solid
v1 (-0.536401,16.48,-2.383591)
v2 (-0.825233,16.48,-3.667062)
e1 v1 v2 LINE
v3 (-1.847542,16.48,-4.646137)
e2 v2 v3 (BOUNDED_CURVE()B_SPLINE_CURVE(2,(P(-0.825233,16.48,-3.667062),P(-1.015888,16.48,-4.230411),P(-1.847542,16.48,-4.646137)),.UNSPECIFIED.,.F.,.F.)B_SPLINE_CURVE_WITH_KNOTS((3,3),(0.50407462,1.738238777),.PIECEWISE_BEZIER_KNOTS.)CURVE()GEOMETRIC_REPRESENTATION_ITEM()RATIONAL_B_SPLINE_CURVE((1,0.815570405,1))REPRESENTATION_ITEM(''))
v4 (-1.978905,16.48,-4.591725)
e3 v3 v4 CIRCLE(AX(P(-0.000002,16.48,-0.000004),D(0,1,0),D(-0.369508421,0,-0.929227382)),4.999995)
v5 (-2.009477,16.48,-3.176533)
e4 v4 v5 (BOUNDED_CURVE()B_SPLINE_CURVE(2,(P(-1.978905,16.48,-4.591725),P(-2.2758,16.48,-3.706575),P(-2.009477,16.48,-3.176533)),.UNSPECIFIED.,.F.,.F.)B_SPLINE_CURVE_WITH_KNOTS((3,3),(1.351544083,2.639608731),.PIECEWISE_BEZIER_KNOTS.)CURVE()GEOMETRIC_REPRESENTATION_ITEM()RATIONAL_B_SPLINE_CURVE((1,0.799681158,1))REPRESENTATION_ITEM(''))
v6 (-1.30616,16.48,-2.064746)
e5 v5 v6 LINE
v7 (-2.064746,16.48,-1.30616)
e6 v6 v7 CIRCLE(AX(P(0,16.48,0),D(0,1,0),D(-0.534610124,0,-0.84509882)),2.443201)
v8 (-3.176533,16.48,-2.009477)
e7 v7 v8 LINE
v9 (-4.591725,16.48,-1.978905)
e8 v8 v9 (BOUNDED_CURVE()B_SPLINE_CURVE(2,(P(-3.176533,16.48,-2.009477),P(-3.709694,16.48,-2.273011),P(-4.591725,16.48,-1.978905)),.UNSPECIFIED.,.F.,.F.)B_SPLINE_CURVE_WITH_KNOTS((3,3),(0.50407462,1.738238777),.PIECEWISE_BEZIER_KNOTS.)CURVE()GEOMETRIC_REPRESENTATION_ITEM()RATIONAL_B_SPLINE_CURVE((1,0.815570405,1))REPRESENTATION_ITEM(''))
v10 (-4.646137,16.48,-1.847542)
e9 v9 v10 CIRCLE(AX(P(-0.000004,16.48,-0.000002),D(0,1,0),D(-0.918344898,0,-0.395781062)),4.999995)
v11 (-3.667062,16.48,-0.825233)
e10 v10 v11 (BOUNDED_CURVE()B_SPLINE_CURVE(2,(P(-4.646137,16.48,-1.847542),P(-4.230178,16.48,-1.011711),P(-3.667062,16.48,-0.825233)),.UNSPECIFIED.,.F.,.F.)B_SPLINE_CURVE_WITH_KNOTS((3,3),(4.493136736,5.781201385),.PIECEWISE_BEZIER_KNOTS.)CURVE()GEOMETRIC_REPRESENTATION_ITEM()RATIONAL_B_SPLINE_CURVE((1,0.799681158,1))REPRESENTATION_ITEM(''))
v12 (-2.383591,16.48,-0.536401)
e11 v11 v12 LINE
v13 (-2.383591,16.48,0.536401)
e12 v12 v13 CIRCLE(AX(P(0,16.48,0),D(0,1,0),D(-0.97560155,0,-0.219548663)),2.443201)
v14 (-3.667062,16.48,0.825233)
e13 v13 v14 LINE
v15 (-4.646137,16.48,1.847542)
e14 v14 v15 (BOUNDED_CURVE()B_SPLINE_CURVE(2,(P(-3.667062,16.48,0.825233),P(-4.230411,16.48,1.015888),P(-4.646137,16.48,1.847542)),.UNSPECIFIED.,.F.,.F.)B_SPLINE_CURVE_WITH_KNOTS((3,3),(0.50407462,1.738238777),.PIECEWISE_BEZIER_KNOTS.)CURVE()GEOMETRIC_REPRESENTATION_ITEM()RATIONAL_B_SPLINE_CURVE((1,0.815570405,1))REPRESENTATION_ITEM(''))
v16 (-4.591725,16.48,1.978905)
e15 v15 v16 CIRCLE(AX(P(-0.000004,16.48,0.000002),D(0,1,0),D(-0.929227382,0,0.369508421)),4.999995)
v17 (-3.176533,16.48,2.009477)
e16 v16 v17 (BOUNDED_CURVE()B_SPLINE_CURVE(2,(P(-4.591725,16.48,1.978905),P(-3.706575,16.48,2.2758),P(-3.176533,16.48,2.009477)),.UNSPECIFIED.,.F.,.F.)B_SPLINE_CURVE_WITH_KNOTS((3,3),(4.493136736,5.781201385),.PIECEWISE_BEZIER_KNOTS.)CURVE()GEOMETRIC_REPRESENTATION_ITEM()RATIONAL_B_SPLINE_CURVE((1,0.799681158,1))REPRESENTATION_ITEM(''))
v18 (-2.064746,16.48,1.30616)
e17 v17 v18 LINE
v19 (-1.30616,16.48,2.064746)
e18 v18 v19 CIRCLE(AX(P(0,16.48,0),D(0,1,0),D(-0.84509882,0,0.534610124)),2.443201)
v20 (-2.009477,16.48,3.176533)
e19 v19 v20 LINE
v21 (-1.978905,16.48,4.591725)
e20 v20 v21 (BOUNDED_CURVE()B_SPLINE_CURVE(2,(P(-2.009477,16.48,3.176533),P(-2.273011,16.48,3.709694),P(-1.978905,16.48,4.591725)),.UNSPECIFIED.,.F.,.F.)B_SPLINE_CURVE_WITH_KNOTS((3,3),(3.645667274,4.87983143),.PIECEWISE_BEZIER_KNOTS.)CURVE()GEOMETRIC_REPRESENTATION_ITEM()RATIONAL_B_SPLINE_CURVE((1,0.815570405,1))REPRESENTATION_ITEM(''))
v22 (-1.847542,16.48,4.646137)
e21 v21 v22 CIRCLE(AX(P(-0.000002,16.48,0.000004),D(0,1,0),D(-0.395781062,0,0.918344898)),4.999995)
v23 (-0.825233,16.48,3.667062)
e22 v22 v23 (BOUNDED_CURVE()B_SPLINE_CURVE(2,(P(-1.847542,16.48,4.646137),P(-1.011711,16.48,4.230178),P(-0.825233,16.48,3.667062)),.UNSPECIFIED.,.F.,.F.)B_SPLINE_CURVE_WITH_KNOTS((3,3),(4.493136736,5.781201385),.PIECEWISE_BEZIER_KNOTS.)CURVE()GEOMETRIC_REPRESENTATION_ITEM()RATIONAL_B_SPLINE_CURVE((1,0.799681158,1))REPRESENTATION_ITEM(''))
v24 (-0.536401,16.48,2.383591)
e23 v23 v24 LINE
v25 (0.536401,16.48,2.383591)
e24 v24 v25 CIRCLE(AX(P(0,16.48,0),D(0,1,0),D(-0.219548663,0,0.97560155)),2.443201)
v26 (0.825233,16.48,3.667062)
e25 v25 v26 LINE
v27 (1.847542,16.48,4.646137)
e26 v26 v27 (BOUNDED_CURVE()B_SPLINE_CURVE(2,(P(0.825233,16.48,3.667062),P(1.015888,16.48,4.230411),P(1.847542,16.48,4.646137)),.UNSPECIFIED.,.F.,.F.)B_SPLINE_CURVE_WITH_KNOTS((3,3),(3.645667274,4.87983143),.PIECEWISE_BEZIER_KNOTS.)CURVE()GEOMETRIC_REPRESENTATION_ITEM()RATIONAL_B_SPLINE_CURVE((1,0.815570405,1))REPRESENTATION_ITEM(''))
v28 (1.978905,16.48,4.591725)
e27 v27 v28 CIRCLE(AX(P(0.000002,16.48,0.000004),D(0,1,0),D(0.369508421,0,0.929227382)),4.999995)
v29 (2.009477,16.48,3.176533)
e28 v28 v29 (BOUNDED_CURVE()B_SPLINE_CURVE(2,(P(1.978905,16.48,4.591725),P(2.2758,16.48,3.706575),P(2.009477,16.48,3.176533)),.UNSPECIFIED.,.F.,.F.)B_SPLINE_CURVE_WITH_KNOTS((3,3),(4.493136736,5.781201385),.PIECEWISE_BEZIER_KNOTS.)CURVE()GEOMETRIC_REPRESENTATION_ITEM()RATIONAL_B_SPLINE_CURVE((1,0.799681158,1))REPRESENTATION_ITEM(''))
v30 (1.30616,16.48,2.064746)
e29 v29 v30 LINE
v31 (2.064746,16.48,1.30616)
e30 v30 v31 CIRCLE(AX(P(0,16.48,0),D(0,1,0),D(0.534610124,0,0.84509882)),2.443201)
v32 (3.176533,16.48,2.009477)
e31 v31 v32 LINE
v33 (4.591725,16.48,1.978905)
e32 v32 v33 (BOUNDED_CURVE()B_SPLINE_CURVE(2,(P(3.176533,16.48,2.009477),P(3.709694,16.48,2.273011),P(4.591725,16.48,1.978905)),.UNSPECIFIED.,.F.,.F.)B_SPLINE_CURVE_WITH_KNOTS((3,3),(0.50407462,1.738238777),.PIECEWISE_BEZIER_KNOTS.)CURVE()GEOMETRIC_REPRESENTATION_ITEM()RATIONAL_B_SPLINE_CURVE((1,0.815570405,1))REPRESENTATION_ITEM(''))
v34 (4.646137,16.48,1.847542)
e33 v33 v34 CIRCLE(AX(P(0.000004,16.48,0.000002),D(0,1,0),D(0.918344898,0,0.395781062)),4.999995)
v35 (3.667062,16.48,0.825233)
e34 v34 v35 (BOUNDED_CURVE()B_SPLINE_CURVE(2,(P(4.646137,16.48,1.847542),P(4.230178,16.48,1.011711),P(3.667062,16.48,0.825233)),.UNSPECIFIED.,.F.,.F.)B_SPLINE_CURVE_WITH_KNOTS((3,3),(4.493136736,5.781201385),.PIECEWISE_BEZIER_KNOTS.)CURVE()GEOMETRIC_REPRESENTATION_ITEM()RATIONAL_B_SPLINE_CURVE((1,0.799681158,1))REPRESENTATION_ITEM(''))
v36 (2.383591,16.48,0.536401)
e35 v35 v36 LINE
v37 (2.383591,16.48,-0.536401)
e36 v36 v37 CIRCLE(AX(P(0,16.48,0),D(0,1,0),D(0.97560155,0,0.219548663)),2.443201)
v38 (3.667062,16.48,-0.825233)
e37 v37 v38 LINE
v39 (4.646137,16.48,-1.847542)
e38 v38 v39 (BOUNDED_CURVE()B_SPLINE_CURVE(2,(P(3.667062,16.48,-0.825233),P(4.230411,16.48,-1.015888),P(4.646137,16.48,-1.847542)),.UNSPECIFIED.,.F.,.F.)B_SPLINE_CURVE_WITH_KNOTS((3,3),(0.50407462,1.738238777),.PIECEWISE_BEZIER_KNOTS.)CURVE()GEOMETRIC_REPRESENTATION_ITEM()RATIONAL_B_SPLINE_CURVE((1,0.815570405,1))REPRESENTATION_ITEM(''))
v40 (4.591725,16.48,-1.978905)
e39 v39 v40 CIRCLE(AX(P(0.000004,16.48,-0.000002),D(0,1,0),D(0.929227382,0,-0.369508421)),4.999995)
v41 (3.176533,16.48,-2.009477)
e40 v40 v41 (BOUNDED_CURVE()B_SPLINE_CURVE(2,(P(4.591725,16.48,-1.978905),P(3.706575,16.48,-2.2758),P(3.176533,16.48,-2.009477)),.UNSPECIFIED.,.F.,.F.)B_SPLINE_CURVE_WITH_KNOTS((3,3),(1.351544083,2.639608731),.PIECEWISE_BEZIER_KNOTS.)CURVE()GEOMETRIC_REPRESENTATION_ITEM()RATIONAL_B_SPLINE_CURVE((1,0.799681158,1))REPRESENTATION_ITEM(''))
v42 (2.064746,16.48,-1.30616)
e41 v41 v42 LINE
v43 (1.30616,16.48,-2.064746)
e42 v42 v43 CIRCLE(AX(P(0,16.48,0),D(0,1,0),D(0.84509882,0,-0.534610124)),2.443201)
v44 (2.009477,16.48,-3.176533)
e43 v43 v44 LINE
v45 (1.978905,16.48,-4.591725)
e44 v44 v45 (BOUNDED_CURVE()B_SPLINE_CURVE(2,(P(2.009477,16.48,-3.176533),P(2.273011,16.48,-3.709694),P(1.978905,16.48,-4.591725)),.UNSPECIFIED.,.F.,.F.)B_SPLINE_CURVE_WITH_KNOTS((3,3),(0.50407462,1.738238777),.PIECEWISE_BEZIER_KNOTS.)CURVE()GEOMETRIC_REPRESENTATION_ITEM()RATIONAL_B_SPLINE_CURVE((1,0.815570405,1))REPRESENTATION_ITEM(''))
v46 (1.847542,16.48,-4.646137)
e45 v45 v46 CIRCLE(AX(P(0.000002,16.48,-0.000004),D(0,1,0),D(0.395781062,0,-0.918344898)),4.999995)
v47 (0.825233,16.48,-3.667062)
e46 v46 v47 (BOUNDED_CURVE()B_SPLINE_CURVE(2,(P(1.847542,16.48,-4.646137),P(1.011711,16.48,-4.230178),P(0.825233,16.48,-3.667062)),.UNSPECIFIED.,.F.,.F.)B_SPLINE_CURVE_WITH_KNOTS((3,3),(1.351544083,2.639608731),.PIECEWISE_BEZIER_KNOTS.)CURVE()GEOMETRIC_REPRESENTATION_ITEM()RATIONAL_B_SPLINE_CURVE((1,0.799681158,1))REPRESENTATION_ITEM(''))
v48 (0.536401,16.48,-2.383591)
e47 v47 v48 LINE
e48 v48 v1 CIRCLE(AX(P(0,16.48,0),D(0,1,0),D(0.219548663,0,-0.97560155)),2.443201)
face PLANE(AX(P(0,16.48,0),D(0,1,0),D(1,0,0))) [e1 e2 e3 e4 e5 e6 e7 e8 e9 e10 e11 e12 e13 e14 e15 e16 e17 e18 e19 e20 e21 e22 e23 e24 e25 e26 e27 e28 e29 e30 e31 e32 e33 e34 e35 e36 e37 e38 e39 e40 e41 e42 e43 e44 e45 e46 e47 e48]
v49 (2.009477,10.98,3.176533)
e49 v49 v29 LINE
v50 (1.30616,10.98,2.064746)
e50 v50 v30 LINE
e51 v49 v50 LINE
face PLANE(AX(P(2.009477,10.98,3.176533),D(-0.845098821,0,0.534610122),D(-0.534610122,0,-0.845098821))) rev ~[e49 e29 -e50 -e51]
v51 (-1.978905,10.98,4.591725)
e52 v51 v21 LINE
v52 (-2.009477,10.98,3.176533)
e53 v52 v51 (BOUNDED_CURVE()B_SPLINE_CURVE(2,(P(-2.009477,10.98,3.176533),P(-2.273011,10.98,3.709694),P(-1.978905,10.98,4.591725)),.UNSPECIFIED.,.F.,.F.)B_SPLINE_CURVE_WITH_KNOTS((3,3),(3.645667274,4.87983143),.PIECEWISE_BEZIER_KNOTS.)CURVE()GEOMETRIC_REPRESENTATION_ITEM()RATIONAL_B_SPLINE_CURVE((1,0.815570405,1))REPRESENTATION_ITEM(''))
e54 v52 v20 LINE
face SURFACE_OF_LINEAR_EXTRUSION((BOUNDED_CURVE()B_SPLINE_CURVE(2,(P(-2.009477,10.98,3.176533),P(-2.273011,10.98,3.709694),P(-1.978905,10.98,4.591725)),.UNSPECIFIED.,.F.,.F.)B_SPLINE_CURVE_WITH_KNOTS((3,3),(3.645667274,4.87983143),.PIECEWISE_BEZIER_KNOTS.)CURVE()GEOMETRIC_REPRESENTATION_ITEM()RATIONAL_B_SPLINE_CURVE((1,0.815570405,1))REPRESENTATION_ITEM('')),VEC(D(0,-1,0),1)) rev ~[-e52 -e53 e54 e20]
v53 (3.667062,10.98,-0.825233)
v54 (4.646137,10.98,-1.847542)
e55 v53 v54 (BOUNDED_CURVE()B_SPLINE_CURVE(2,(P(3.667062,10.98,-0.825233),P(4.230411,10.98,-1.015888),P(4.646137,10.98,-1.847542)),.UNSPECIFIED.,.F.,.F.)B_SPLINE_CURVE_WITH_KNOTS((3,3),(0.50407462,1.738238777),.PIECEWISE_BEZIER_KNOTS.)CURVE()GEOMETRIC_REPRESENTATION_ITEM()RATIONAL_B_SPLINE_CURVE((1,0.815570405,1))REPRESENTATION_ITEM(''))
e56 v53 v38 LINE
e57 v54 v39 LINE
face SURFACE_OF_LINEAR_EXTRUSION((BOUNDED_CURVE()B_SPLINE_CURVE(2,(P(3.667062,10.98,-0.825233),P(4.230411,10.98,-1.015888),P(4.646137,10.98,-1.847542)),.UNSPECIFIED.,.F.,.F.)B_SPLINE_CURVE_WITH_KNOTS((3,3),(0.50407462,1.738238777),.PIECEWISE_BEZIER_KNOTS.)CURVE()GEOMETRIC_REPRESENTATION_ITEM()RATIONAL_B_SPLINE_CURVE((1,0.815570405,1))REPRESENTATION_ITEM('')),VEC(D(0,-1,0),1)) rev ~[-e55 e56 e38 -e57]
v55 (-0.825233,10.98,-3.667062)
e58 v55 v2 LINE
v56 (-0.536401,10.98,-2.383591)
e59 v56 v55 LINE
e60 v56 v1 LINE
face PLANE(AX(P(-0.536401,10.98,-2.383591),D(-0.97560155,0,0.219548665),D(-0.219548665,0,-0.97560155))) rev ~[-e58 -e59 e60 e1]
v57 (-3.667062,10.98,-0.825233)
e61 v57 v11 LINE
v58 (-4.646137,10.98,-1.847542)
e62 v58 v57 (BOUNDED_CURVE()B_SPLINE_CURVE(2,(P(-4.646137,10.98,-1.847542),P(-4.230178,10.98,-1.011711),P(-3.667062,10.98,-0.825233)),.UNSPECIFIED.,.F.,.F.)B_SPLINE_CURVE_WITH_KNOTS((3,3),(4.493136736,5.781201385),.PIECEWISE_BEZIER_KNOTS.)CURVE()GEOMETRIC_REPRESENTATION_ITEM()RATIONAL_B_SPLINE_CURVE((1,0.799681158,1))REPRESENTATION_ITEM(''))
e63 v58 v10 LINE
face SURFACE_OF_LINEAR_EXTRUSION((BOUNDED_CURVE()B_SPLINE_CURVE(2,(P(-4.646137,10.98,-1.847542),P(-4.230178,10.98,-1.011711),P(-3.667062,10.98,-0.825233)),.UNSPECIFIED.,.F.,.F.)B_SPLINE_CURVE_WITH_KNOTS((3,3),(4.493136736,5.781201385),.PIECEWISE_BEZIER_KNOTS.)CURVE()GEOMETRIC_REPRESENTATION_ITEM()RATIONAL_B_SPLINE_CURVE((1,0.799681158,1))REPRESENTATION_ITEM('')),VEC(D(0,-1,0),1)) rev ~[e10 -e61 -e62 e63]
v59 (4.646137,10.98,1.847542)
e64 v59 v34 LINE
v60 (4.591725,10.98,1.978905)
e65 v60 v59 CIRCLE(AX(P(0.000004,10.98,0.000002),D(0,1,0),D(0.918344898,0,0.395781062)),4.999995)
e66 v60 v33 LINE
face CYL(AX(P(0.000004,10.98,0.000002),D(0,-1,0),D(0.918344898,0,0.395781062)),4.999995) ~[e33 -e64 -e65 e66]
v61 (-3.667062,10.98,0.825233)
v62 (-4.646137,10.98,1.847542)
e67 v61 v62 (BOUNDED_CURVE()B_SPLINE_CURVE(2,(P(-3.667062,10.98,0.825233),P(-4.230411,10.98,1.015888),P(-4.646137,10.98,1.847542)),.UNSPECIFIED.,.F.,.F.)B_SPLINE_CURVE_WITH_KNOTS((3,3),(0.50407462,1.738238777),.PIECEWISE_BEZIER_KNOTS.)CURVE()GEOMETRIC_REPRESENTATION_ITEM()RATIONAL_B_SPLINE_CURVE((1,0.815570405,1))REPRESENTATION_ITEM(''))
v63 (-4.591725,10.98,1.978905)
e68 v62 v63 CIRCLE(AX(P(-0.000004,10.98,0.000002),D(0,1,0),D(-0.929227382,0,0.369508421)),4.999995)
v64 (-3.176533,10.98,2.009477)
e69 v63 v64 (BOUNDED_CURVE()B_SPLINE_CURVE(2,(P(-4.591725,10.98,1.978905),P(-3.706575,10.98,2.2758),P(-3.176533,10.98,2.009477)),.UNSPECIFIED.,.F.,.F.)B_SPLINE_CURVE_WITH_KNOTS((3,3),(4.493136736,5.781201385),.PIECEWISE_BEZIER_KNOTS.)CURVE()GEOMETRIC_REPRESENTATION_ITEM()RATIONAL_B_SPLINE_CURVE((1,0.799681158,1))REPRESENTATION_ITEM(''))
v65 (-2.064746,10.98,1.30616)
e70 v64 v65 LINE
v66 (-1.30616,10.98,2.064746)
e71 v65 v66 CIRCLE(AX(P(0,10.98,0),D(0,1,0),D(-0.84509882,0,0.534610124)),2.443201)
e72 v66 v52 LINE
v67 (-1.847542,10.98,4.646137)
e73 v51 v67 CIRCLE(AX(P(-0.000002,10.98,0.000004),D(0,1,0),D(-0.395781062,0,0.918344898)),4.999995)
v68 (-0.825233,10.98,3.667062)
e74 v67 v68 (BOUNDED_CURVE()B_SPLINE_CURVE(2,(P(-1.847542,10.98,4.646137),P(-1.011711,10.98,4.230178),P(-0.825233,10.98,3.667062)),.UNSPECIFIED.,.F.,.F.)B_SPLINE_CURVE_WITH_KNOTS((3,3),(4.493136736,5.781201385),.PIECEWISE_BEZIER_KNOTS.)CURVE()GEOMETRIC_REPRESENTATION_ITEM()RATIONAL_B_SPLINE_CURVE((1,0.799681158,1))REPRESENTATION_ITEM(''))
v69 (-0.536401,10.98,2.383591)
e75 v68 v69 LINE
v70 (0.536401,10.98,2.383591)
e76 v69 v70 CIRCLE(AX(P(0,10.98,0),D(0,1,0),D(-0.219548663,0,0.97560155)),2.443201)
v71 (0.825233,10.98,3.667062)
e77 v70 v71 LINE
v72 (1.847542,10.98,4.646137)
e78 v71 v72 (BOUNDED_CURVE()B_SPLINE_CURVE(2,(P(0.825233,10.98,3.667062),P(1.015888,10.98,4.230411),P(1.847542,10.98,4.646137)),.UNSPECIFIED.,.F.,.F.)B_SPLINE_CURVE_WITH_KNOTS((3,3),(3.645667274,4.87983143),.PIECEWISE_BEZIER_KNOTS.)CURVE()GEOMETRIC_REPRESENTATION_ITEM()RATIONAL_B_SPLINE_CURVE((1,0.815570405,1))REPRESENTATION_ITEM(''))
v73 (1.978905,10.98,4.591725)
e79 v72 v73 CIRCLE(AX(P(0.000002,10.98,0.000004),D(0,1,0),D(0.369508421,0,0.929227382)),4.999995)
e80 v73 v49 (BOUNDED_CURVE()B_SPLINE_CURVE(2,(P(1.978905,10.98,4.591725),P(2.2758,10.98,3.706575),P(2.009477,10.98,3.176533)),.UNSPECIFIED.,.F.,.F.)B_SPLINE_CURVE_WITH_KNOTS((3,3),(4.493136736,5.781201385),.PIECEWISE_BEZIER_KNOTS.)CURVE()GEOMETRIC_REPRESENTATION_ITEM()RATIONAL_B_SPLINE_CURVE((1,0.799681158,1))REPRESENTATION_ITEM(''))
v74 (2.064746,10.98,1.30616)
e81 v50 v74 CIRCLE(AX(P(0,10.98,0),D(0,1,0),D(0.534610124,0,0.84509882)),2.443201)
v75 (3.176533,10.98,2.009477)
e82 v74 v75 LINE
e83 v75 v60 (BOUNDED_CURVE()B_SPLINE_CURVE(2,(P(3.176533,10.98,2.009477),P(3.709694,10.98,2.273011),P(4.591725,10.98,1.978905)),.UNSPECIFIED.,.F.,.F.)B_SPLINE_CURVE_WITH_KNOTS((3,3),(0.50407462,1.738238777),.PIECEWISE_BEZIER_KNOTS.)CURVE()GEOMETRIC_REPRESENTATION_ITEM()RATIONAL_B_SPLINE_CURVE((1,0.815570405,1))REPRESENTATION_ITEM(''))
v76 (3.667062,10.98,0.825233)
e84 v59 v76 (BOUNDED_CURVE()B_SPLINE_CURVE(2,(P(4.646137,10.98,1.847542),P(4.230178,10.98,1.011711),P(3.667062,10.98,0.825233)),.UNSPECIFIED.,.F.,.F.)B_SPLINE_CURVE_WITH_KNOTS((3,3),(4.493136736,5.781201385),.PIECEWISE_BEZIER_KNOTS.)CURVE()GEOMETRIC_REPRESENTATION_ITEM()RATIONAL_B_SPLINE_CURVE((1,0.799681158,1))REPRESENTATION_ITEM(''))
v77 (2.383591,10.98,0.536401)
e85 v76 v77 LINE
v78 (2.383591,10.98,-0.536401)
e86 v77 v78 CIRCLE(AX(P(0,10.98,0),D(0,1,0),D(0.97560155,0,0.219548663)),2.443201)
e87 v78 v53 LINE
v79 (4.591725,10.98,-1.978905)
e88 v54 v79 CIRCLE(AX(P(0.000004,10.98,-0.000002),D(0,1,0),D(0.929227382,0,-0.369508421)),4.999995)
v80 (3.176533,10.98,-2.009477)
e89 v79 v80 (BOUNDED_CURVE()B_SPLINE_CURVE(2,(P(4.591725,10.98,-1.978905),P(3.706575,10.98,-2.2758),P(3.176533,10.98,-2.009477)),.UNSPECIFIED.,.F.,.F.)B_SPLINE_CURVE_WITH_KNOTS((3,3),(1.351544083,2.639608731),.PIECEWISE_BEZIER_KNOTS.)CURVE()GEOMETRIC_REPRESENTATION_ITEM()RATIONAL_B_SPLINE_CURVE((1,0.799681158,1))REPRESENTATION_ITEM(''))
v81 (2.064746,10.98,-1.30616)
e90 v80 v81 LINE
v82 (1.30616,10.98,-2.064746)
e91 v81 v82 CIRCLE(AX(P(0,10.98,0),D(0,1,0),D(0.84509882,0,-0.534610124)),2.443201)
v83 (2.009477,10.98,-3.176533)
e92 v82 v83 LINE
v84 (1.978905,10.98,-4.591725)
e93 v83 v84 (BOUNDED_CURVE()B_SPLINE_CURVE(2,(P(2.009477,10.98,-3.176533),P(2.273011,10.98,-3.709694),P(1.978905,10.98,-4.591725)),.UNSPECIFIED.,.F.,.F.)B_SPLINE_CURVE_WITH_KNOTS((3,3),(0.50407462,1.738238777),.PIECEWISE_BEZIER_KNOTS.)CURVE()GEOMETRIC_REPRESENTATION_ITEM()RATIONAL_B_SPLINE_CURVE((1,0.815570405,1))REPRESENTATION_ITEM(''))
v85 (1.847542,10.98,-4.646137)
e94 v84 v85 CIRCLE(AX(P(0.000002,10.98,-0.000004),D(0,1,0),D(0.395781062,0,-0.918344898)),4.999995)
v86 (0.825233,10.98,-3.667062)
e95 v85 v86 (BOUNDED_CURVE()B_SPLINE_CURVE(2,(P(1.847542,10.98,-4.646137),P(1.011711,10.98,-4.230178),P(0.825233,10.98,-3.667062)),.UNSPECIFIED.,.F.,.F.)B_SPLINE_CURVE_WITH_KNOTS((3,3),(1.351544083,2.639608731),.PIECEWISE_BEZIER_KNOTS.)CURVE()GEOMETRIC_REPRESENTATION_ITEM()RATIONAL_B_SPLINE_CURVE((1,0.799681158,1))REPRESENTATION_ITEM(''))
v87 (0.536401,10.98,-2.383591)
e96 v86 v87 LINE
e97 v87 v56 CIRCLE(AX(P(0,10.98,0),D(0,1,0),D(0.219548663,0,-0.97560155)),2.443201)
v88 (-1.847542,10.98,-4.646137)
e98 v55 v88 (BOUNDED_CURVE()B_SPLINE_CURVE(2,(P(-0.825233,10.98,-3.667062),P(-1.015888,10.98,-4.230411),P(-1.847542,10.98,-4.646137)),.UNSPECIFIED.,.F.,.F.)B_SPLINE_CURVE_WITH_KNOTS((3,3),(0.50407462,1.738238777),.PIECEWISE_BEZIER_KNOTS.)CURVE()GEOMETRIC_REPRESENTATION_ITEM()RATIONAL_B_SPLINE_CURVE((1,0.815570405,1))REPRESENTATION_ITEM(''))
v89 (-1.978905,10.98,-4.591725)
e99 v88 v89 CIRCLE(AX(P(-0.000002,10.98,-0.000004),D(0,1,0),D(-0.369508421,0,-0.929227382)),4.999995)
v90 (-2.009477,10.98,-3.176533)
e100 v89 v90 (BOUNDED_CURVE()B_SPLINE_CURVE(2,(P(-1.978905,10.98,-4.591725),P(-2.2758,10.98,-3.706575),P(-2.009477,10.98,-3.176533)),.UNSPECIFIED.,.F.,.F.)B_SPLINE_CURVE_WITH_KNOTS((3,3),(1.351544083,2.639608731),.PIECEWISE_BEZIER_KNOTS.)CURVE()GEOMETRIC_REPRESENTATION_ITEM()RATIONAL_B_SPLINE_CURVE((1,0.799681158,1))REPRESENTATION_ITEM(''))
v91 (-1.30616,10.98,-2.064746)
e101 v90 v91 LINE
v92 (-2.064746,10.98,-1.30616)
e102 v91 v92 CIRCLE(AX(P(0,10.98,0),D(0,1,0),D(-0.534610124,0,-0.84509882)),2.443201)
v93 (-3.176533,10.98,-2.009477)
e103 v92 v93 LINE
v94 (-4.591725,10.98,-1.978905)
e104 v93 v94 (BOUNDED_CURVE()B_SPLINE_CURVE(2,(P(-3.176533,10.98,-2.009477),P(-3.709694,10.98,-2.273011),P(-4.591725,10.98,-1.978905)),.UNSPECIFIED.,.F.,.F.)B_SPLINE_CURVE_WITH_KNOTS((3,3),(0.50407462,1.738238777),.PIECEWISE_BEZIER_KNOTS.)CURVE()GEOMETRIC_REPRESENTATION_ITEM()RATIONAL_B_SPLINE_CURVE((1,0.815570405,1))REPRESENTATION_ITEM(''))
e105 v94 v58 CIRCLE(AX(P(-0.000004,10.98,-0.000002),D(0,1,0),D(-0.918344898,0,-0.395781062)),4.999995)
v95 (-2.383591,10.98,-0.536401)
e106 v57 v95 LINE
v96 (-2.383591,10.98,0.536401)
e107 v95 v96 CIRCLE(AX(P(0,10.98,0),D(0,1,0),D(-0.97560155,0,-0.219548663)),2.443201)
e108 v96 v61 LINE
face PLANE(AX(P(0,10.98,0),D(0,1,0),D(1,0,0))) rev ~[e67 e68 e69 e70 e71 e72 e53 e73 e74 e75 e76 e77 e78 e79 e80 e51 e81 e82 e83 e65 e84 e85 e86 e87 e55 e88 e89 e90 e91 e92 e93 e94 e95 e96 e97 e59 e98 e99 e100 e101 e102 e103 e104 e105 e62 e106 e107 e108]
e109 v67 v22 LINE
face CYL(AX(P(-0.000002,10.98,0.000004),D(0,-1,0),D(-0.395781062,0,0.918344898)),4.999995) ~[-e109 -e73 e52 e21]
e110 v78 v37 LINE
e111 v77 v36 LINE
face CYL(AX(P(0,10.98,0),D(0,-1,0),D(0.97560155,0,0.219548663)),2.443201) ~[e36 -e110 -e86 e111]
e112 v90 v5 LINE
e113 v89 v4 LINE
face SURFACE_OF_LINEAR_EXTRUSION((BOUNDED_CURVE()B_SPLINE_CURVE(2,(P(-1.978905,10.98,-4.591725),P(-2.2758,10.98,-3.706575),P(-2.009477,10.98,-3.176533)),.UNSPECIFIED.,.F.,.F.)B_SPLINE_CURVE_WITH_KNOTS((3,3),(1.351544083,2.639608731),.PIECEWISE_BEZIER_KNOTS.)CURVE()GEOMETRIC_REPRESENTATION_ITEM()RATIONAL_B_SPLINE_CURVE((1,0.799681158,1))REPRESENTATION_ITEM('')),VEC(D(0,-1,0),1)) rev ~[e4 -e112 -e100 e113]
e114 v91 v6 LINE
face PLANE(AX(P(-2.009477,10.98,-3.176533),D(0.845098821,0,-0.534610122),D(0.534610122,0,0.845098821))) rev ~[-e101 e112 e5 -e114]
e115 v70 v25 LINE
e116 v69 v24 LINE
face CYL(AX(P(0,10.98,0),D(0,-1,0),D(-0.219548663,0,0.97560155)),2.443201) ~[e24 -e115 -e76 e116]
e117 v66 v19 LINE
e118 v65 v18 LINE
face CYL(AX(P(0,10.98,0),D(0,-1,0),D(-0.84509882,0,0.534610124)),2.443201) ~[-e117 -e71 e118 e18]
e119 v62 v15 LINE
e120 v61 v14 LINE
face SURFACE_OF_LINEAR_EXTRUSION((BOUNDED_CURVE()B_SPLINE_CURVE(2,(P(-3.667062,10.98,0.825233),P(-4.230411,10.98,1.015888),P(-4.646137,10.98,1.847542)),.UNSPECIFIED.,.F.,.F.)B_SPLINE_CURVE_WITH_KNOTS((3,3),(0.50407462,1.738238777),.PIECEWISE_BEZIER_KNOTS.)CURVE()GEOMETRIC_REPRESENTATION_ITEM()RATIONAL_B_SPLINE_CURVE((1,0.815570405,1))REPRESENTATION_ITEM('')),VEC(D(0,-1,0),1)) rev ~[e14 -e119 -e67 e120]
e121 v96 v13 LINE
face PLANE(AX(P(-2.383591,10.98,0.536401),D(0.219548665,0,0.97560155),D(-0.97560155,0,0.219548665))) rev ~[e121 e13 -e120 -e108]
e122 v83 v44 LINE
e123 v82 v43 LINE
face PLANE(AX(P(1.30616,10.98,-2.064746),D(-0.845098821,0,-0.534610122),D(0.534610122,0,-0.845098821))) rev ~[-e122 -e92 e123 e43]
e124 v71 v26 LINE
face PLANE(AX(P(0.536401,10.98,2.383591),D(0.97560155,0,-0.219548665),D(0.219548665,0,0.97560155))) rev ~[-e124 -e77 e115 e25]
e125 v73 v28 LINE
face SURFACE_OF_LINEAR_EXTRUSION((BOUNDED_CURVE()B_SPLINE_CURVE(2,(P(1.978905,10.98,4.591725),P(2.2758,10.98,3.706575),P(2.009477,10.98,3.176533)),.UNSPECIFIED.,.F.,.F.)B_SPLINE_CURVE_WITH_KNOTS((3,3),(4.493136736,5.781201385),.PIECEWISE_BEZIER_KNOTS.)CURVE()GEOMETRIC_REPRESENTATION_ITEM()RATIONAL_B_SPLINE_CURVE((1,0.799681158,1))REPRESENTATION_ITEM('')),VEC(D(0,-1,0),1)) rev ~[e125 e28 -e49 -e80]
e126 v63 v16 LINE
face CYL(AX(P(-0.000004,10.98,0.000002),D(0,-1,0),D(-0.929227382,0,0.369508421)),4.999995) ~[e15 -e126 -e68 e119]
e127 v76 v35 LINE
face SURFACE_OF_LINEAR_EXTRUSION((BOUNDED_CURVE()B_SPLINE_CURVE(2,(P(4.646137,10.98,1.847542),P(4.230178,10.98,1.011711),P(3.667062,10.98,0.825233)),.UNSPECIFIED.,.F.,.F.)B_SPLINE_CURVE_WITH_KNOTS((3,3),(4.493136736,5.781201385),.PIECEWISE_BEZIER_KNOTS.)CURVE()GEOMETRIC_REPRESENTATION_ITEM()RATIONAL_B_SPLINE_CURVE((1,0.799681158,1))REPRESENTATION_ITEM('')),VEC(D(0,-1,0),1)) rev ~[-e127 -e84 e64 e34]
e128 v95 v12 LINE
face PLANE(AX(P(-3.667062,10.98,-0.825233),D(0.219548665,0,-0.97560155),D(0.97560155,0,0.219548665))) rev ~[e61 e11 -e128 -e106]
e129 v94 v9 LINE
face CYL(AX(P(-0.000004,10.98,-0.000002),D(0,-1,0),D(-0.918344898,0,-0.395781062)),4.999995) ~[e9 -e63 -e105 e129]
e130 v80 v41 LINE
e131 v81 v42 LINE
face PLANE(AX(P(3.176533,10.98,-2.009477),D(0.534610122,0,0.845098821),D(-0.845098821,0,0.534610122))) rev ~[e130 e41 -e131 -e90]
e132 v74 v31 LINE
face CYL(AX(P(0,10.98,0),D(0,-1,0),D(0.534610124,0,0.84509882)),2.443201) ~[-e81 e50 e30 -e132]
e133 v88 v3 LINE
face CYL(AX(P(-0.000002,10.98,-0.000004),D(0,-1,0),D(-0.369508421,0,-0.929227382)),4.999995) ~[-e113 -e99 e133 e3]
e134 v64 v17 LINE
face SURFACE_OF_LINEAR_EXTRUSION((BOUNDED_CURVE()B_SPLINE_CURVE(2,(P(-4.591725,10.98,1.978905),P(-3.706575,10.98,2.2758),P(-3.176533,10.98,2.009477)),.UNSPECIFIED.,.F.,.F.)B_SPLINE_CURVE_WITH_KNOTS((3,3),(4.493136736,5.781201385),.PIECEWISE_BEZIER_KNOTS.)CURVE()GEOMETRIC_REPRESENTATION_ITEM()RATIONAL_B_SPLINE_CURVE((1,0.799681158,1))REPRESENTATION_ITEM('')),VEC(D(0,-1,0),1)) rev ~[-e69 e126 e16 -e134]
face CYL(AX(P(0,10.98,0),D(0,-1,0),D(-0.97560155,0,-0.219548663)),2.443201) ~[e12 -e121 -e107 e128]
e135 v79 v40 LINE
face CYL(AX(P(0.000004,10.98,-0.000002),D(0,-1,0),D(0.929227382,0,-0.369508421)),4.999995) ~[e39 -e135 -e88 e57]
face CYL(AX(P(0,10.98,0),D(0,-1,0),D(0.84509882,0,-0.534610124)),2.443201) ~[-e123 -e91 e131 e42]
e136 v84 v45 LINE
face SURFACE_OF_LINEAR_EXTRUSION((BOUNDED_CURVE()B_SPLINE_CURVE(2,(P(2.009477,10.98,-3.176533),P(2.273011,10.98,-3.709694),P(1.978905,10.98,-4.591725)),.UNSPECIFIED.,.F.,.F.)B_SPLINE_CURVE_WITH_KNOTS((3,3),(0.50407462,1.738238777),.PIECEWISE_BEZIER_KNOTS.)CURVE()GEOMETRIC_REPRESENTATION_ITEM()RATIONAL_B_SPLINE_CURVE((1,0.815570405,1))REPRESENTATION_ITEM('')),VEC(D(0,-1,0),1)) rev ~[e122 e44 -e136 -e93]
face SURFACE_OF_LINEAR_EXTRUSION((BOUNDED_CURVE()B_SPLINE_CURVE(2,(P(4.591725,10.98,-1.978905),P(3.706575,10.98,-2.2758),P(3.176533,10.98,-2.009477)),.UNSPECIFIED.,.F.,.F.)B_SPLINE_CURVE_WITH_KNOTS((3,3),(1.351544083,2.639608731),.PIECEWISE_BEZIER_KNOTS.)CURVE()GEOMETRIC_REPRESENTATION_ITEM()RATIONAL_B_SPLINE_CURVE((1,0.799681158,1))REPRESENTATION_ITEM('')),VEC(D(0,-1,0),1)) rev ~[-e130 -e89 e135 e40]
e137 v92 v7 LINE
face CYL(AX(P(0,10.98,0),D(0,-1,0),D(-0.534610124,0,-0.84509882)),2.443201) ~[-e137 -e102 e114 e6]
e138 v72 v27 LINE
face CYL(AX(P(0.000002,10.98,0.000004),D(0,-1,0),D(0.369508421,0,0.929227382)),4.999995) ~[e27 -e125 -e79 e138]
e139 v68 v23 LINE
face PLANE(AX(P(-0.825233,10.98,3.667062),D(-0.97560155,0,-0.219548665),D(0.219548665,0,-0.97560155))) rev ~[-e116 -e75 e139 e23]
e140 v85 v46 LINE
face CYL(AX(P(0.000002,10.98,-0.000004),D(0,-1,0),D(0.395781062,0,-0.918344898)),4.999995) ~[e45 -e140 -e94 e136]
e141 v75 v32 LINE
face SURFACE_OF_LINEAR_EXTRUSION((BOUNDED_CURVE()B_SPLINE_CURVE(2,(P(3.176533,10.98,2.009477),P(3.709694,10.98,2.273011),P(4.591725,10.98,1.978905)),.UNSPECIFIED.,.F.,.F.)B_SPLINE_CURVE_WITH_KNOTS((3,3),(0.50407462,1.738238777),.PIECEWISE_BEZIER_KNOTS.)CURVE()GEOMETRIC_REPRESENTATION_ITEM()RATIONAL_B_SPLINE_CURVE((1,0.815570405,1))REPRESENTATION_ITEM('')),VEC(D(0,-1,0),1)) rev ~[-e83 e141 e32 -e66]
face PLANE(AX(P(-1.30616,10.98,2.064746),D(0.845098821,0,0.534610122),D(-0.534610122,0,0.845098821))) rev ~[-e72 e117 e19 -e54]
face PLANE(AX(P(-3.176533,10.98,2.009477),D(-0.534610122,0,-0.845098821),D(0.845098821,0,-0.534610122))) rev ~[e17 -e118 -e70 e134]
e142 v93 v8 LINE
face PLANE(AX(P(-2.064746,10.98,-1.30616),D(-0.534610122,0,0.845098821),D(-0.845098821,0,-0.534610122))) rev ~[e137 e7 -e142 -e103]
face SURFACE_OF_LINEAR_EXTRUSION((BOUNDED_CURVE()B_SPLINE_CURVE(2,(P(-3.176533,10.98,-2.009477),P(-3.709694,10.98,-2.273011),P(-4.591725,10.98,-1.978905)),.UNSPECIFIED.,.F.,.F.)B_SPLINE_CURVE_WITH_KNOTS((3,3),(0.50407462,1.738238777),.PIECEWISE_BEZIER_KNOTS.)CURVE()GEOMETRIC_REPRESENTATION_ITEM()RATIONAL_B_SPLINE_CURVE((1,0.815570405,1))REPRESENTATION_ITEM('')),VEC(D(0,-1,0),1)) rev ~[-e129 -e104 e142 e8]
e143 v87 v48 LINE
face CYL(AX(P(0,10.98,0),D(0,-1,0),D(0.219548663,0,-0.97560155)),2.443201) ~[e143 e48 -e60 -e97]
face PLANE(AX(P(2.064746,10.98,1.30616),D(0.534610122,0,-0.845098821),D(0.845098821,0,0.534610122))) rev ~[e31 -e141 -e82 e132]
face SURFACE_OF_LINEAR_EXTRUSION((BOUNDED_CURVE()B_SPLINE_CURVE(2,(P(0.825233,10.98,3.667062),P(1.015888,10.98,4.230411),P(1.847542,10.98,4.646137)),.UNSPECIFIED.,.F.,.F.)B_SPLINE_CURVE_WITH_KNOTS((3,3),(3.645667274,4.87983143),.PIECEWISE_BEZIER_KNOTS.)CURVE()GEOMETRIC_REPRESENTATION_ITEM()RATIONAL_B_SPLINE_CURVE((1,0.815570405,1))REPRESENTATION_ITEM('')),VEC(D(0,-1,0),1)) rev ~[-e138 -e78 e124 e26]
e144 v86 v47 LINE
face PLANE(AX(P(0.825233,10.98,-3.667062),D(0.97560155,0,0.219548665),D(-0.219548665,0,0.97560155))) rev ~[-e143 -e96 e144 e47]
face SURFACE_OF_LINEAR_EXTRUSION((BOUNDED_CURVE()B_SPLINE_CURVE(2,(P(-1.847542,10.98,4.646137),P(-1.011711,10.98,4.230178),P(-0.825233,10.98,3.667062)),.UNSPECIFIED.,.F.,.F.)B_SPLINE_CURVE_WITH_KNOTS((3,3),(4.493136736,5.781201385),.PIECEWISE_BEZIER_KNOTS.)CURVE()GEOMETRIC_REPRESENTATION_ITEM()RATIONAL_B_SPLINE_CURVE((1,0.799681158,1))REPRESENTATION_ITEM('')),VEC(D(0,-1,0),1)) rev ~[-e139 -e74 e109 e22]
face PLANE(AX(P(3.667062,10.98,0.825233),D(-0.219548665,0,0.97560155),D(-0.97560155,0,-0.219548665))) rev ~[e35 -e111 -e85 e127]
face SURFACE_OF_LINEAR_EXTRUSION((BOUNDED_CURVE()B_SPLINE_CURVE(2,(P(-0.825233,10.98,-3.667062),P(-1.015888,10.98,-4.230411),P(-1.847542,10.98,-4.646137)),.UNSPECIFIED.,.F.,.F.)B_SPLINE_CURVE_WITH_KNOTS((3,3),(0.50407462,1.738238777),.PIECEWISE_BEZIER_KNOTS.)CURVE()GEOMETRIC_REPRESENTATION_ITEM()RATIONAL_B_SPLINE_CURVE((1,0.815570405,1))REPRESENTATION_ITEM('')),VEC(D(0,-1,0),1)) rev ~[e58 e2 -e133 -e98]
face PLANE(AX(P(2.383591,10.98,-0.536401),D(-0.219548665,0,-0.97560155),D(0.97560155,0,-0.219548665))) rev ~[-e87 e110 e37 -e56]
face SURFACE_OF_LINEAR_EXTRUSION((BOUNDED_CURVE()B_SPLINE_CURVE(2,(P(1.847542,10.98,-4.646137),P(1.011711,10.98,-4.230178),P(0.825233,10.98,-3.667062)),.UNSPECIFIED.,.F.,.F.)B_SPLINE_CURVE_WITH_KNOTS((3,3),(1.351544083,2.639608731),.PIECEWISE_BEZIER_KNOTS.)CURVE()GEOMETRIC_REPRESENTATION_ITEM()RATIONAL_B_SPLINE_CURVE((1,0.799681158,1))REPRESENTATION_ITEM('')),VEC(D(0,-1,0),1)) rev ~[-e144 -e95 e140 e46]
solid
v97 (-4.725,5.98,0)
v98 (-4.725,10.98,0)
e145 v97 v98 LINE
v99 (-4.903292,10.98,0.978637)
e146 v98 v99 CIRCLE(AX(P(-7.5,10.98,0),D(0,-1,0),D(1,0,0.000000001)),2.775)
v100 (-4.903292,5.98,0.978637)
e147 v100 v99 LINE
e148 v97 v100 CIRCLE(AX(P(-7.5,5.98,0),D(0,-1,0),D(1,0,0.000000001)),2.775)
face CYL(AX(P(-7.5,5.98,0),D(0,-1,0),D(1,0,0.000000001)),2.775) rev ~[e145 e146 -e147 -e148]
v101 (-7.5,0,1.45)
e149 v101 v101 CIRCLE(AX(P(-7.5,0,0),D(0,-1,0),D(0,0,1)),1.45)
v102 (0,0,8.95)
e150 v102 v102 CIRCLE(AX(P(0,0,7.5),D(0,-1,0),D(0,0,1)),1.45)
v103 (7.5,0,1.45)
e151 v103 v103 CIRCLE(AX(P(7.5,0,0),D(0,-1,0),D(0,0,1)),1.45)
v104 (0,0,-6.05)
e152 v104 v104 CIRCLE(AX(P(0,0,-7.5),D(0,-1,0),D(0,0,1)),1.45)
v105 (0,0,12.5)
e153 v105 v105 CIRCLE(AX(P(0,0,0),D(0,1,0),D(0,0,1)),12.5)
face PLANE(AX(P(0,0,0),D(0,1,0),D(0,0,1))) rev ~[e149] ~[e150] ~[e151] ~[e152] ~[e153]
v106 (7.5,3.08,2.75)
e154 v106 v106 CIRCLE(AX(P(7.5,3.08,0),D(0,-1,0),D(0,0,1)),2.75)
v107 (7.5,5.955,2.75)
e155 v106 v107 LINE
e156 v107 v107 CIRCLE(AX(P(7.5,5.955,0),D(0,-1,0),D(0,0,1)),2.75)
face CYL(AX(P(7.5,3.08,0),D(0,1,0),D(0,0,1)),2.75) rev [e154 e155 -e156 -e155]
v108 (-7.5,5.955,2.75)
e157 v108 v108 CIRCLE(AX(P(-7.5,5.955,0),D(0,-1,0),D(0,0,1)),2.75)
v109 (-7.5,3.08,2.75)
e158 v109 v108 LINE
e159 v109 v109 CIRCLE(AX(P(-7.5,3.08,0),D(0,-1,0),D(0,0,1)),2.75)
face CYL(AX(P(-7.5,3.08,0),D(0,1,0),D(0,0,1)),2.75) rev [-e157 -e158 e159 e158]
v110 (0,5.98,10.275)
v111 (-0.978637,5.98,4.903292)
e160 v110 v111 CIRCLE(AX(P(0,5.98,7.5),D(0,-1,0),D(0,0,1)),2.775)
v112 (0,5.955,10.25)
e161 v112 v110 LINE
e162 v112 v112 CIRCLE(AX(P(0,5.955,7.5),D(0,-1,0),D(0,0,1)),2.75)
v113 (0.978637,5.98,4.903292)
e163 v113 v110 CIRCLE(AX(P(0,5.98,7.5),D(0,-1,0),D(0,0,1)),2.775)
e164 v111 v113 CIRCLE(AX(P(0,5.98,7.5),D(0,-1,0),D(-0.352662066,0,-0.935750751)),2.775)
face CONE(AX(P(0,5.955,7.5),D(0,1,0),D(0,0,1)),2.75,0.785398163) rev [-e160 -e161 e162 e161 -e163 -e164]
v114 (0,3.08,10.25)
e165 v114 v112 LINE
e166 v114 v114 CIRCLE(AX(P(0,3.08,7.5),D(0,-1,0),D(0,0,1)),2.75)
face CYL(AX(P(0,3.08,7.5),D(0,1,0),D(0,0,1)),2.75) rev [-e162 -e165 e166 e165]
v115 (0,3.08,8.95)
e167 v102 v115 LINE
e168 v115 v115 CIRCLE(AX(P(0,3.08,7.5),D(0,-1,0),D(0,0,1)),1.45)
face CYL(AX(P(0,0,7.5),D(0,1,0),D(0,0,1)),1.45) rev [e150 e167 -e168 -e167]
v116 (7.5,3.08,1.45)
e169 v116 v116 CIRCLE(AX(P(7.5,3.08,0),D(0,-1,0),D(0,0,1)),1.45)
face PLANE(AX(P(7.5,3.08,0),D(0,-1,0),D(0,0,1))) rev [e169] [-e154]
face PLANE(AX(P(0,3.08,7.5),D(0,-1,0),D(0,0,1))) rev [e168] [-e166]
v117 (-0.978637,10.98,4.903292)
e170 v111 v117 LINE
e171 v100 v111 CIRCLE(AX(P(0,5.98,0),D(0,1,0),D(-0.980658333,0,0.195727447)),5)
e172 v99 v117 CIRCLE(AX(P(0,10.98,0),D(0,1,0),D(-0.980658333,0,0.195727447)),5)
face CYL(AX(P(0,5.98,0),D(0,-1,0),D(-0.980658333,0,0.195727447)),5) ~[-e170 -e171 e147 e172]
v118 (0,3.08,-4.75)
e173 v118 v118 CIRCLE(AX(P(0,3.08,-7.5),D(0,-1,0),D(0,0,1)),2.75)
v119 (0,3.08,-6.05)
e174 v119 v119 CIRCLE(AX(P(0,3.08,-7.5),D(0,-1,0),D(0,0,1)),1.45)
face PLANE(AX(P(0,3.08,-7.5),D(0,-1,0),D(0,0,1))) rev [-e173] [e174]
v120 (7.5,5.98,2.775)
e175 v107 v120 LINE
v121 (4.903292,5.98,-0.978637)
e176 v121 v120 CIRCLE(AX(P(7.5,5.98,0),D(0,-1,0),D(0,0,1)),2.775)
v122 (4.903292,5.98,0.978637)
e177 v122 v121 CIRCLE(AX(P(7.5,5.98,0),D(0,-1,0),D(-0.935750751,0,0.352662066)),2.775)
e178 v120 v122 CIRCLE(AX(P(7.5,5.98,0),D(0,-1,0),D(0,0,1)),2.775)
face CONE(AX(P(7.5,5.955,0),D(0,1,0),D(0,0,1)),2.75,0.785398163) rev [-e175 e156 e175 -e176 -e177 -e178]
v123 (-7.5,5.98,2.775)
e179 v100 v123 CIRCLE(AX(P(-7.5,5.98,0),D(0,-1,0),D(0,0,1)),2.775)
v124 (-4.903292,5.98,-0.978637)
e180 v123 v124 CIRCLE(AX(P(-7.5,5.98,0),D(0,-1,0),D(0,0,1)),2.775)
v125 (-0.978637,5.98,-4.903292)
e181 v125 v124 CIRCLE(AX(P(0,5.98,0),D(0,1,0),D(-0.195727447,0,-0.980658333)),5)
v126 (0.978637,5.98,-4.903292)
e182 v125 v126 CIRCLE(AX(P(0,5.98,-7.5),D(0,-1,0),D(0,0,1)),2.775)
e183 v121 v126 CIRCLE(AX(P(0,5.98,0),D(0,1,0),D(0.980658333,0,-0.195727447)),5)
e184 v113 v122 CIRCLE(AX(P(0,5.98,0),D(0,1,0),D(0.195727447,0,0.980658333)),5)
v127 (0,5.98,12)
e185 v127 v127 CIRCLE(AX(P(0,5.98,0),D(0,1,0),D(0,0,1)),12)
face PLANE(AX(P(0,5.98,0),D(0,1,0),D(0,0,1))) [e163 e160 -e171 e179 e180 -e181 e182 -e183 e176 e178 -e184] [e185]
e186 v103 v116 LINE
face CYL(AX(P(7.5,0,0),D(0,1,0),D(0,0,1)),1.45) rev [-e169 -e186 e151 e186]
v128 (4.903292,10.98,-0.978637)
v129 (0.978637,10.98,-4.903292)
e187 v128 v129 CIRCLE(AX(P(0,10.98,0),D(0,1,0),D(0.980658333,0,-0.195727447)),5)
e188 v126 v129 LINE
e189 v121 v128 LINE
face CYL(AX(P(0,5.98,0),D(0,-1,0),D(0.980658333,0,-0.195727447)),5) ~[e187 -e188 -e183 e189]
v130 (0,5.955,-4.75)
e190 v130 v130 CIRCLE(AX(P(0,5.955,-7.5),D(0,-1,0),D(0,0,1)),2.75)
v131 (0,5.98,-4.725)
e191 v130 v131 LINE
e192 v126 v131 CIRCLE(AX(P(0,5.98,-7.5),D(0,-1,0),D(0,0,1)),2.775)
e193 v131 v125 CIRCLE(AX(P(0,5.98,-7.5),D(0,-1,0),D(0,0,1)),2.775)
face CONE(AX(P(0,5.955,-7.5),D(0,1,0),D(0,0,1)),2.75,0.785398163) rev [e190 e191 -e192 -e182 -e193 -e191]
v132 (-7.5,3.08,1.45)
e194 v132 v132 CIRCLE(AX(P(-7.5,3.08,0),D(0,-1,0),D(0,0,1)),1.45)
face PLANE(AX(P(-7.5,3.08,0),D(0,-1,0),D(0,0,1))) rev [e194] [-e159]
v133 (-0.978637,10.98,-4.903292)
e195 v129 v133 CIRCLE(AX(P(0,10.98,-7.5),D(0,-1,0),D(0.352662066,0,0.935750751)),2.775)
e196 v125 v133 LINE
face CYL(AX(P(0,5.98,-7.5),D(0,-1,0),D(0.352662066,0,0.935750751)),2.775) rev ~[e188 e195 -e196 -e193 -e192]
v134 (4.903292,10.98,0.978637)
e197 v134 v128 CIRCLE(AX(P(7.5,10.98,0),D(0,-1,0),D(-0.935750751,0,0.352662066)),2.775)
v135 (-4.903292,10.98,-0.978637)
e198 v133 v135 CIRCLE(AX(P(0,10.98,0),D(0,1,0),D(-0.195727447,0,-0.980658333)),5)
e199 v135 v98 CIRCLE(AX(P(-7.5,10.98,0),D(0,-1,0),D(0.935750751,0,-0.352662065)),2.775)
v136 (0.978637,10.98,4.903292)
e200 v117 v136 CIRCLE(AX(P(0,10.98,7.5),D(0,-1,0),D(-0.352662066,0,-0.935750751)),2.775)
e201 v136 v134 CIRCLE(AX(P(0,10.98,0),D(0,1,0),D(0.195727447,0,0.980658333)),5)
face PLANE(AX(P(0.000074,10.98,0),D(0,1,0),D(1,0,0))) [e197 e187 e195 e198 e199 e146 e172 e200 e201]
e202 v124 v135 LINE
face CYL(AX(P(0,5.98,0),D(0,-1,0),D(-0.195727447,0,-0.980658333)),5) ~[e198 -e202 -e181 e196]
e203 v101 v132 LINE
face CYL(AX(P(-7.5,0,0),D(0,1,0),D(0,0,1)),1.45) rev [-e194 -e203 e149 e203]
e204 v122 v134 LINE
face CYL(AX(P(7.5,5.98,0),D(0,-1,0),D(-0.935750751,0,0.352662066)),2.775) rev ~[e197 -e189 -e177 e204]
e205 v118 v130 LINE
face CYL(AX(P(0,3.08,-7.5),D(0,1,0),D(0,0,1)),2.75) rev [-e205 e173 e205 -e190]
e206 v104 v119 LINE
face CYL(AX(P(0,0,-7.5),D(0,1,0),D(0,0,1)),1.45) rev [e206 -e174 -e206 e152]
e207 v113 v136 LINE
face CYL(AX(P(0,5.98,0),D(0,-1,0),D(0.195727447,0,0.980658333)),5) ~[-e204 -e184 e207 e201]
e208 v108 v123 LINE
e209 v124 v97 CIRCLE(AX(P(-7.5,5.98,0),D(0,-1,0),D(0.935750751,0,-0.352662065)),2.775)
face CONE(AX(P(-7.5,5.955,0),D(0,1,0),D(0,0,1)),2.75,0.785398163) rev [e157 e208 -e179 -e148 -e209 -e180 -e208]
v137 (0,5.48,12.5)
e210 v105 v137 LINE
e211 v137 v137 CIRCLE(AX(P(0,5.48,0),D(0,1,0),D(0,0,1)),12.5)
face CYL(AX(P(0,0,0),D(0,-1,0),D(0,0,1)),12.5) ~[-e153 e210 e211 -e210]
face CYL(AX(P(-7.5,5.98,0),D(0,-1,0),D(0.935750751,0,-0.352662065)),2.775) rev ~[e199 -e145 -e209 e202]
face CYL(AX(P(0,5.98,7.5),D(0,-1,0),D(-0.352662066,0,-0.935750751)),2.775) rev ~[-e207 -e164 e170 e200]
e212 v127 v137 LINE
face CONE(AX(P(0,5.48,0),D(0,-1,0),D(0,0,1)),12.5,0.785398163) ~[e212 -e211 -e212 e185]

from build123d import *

# Parameters (mm, degrees)
SKETCH1_R                                    = 12.5
BOSS_EXTRUDE1_DEPTH                          = 5.98
CBORE_FOR_M2_5_HEX_SOCKET_HEAD_CAP_S_2_COUNT = 2
CBORE_FOR_M2_5_HEX_SOCKET_HEAD_CAP_S_2_PITCH = 10.606601718
CBORE_FOR_M2_5_HEX_SOCKET_HEAD_CAP_S_3_COUNT = 2
CBORE_FOR_M2_5_HEX_SOCKET_HEAD_CAP_S_3_PITCH = 15
CBORE_FOR_M2_5_HEX_SOCKET_HEAD_CAP_S_4_COUNT = 2
CBORE_FOR_M2_5_HEX_SOCKET_HEAD_CAP_S_4_PITCH = 10.606601718
BOSS_EXTRUDE2_DEPTH                          = 5
BOSS_EXTRUDE3_DEPTH                          = 5.5
F_0_5MM_CHAMFER_SIZE                         = 0.5


with BuildPart() as part:
    # Sketch1 → Boss-Extrude1 (new body)
    with BuildSketch(Plane(origin=(0, 0, 0), x_dir=(1, 0, 0), z_dir=(0, 1, 0))):
        with Locations(Location((0, 0, 0), (0, 0, 270))):
            Circle(SKETCH1_R)
    extrude(amount=BOSS_EXTRUDE1_DEPTH)

    # Sketch3 → CBORE for M2.5 Hex Socket Head Cap Screw1 (revolve, cut)
    with BuildSketch(Plane(origin=(-7.5, 5.98, 0), x_dir=(0, 0, 1), z_dir=(1, 0, 0))):
        Polygon((0, 0), (0, 5.98), (1.45, 5.98), (1.45, 2.9), (2.75, 2.9), (2.75, 0.025), (2.775, 0), align=None)
    cbore_for_m2_5_hex_socket_head_cap_screw = revolve(axis=Axis((-7.5, 12.33, 0), (0, -1, 0)), mode=Mode.SUBTRACT)

    # CBORE for M2.5 Hex Socket Head Cap S 2: CBORE for M2.5 Hex Socket Head Cap Screw1 ×2
    with Locations(*[Vector(0.7071067811865476, 0, -0.7071067811865476) * (i * CBORE_FOR_M2_5_HEX_SOCKET_HEAD_CAP_S_2_PITCH) for i in range(1, CBORE_FOR_M2_5_HEX_SOCKET_HEAD_CAP_S_2_COUNT)]):
        add(cbore_for_m2_5_hex_socket_head_cap_screw, mode=Mode.SUBTRACT)

    # CBORE for M2.5 Hex Socket Head Cap S 3: CBORE for M2.5 Hex Socket Head Cap Screw1 ×2
    with Locations(*[(i * CBORE_FOR_M2_5_HEX_SOCKET_HEAD_CAP_S_3_PITCH, 0, 0) for i in range(1, CBORE_FOR_M2_5_HEX_SOCKET_HEAD_CAP_S_3_COUNT)]):
        add(cbore_for_m2_5_hex_socket_head_cap_screw, mode=Mode.SUBTRACT)

    # CBORE for M2.5 Hex Socket Head Cap S 4: CBORE for M2.5 Hex Socket Head Cap Screw1 ×2
    with Locations(*[Vector(0.7071067811865476, 0, 0.7071067811865476) * (i * CBORE_FOR_M2_5_HEX_SOCKET_HEAD_CAP_S_4_PITCH) for i in range(1, CBORE_FOR_M2_5_HEX_SOCKET_HEAD_CAP_S_4_COUNT)]):
        add(cbore_for_m2_5_hex_socket_head_cap_screw, mode=Mode.SUBTRACT)

    # Sketch5 → Boss-Extrude2 (add)
    with BuildSketch(Plane(origin=(0, 5.98, 0), x_dir=(1, 0, 0), z_dir=(0, 1, 0))):
        with BuildLine():
            ThreePointArc((4.903291667, -0.978637232), (4.725, 0), (4.903291667, 0.978637232))
            ThreePointArc((4.903291667, 0.978637232), (3.535533906, 3.535533906), (0.978637232, 4.903291667))
            ThreePointArc((0.978637232, 4.903291667), (0, 4.725), (-0.978637232, 4.903291667))
            ThreePointArc((-0.978637232, 4.903291667), (-3.535533906, 3.535533906), (-4.903291667, 0.978637232))
            ThreePointArc((-4.903291667, 0.978637232), (-4.769936757, 0.497372785), (-4.725, 0))
            ThreePointArc((-4.725, 0), (-4.769936757, -0.497372785), (-4.903291667, -0.978637232))
            ThreePointArc((-4.903291667, -0.978637232), (-3.535533906, -3.535533906), (-0.978637232, -4.903291667))
            ThreePointArc((-0.978637232, -4.903291667), (0, -4.725), (0.978637232, -4.903291667))
            ThreePointArc((0.978637232, -4.903291667), (3.535533906, -3.535533906), (4.903291667, -0.978637232))
        make_face()
    extrude(amount=BOSS_EXTRUDE2_DEPTH)

    # 0,5mm Chamfer
    f_0_5mm_chamfer_edges = [part.edges().sort_by_distance(p)[0] for p in [
        (0, 5.98, -12.5),
    ]]
    chamfer(f_0_5mm_chamfer_edges, length=F_0_5MM_CHAMFER_SIZE)


with BuildPart() as body_2:
    # Sketch4 → Boss-Extrude3 (new body)
    with BuildSketch(Plane(origin=(0, 10.98, 0), x_dir=(1, 0, 0), z_dir=(0, 1, 0))):
        with BuildLine():
            Line((-2.009476748, 3.176532504), (-1.306159886, 2.064746127))
            ThreePointArc((-1.306159886, 2.064746127), (-1.727603863, 1.727603863), (-2.064746127, 1.306159886))
            Line((-2.064746127, 1.306159886), (-3.176532504, 2.009476748))
            add(Edge.make_bspline(
                [(-3.176532504, 2.009476748), (-3.709693798, 2.27301123), (-4.591724504, 1.978905274)],
                knots=[0.50407462, 0.50407462, 0.50407462, 1.738238777, 1.738238777, 1.738238777], degree=2, weights=[1, 0.815570405, 1]))
            ThreePointArc((-4.591724504, 1.978905274), (-4.619397663, 1.913417162), (-4.646136872, 1.847542195))
            add(Edge.make_bspline(
                [(-4.646136872, 1.847542195), (-4.230177813, 1.011711238), (-3.667062309, 0.825233039)],
                knots=[4.493136736, 4.493136736, 4.493136736, 5.781201385, 5.781201385, 5.781201385], degree=2, weights=[1, 0.799681158, 1]))
            Line((-3.667062309, 0.825233039), (-2.383590501, 0.536401475))
            ThreePointArc((-2.383590501, 0.536401475), (-2.443200814, 0), (-2.383590501, -0.536401475))
            Line((-2.383590501, -0.536401475), (-3.667062309, -0.825233039))
            add(Edge.make_bspline(
                [(-3.667062309, -0.825233039), (-4.230411296, -1.015887986), (-4.646136872, -1.847542195)],
                knots=[0.50407462, 0.50407462, 0.50407462, 1.738238777, 1.738238777, 1.738238777], degree=2, weights=[1, 0.815570405, 1]))
            ThreePointArc((-4.646136872, -1.847542195), (-4.619397663, -1.913417162), (-4.591724504, -1.978905274))
            add(Edge.make_bspline(
                [(-4.591724504, -1.978905274), (-3.706575294, -2.27579954), (-3.176532504, -2.009476748)],
                knots=[4.493136736, 4.493136736, 4.493136736, 5.781201385, 5.781201385, 5.781201385], degree=2, weights=[1, 0.799681158, 1]))
            Line((-3.176532504, -2.009476748), (-2.064746127, -1.306159886))
            ThreePointArc((-2.064746127, -1.306159886), (-1.727603863, -1.727603863), (-1.306159886, -2.064746127))
            Line((-1.306159886, -2.064746127), (-2.009476748, -3.176532504))
            add(Edge.make_bspline(
                [(-2.009476748, -3.176532504), (-2.27301123, -3.709693798), (-1.978905274, -4.591724504)],
                knots=[3.645667274, 3.645667274, 3.645667274, 4.87983143, 4.87983143, 4.87983143], degree=2, weights=[1, 0.815570405, 1]))
            ThreePointArc((-1.978905274, -4.591724504), (-1.913417162, -4.619397663), (-1.847542195, -4.646136872))
            add(Edge.make_bspline(
                [(-1.847542195, -4.646136872), (-1.011711238, -4.230177813), (-0.825233039, -3.667062309)],
                knots=[4.493136736, 4.493136736, 4.493136736, 5.781201385, 5.781201385, 5.781201385], degree=2, weights=[1, 0.799681158, 1]))
            Line((-0.825233039, -3.667062309), (-0.536401475, -2.383590501))
            ThreePointArc((-0.536401475, -2.383590501), (0, -2.443200814), (0.536401475, -2.383590501))
            Line((0.536401475, -2.383590501), (0.825233039, -3.667062309))
            add(Edge.make_bspline(
                [(0.825233039, -3.667062309), (1.015887986, -4.230411296), (1.847542195, -4.646136872)],
                knots=[3.645667274, 3.645667274, 3.645667274, 4.87983143, 4.87983143, 4.87983143], degree=2, weights=[1, 0.815570405, 1]))
            ThreePointArc((1.847542195, -4.646136872), (1.913417162, -4.619397663), (1.978905274, -4.591724504))
            add(Edge.make_bspline(
                [(1.978905274, -4.591724504), (2.27579954, -3.706575294), (2.009476748, -3.176532504)],
                knots=[4.493136736, 4.493136736, 4.493136736, 5.781201385, 5.781201385, 5.781201385], degree=2, weights=[1, 0.799681158, 1]))
            Line((2.009476748, -3.176532504), (1.306159886, -2.064746127))
            ThreePointArc((1.306159886, -2.064746127), (1.727603863, -1.727603863), (2.064746127, -1.306159886))
            Line((2.064746127, -1.306159886), (3.176532504, -2.009476748))
            add(Edge.make_bspline(
                [(3.176532504, -2.009476748), (3.709693798, -2.27301123), (4.591724504, -1.978905274)],
                knots=[0.50407462, 0.50407462, 0.50407462, 1.738238777, 1.738238777, 1.738238777], degree=2, weights=[1, 0.815570405, 1]))
            ThreePointArc((4.591724504, -1.978905274), (4.619397663, -1.913417162), (4.646136872, -1.847542195))
            add(Edge.make_bspline(
                [(4.646136872, -1.847542195), (4.230177813, -1.011711238), (3.667062309, -0.825233039)],
                knots=[4.493136736, 4.493136736, 4.493136736, 5.781201385, 5.781201385, 5.781201385], degree=2, weights=[1, 0.799681158, 1]))
            Line((3.667062309, -0.825233039), (2.383590501, -0.536401475))
            ThreePointArc((2.383590501, -0.536401475), (2.443200814, 0), (2.383590501, 0.536401475))
            Line((2.383590501, 0.536401475), (3.667062309, 0.825233039))
            add(Edge.make_bspline(
                [(3.667062309, 0.825233039), (4.230411296, 1.015887986), (4.646136872, 1.847542195)],
                knots=[0.50407462, 0.50407462, 0.50407462, 1.738238777, 1.738238777, 1.738238777], degree=2, weights=[1, 0.815570405, 1]))
            ThreePointArc((4.646136872, 1.847542195), (4.619397663, 1.913417162), (4.591724504, 1.978905274))
            add(Edge.make_bspline(
                [(4.591724504, 1.978905274), (3.706575294, 2.27579954), (3.176532504, 2.009476748)],
                knots=[1.351544083, 1.351544083, 1.351544083, 2.639608731, 2.639608731, 2.639608731], degree=2, weights=[1, 0.799681158, 1]))
            Line((3.176532504, 2.009476748), (2.064746127, 1.306159886))
            ThreePointArc((2.064746127, 1.306159886), (1.727603863, 1.727603863), (1.306159886, 2.064746127))
            Line((1.306159886, 2.064746127), (2.009476748, 3.176532504))
            add(Edge.make_bspline(
                [(2.009476748, 3.176532504), (2.27301123, 3.709693798), (1.978905274, 4.591724504)],
                knots=[0.50407462, 0.50407462, 0.50407462, 1.738238777, 1.738238777, 1.738238777], degree=2, weights=[1, 0.815570405, 1]))
            ThreePointArc((1.978905274, 4.591724504), (1.913417162, 4.619397663), (1.847542195, 4.646136872))
            add(Edge.make_bspline(
                [(1.847542195, 4.646136872), (1.011711238, 4.230177813), (0.825233039, 3.667062309)],
                knots=[1.351544083, 1.351544083, 1.351544083, 2.639608731, 2.639608731, 2.639608731], degree=2, weights=[1, 0.799681158, 1]))
            Line((0.825233039, 3.667062309), (0.536401475, 2.383590501))
            ThreePointArc((0.536401475, 2.383590501), (0, 2.443200814), (-0.536401475, 2.383590501))
            Line((-0.536401475, 2.383590501), (-0.825233039, 3.667062309))
            add(Edge.make_bspline(
                [(-0.825233039, 3.667062309), (-1.015887986, 4.230411296), (-1.847542195, 4.646136872)],
                knots=[0.50407462, 0.50407462, 0.50407462, 1.738238777, 1.738238777, 1.738238777], degree=2, weights=[1, 0.815570405, 1]))
            ThreePointArc((-1.847542195, 4.646136872), (-1.913417162, 4.619397663), (-1.978905274, 4.591724504))
            add(Edge.make_bspline(
                [(-1.978905274, 4.591724504), (-2.27579954, 3.706575294), (-2.009476748, 3.176532504)],
                knots=[1.351544083, 1.351544083, 1.351544083, 2.639608731, 2.639608731, 2.639608731], degree=2, weights=[1, 0.799681158, 1]))
        make_face()
    extrude(amount=BOSS_EXTRUDE3_DEPTH)


solid = Compound([part.part, body_2.part])
